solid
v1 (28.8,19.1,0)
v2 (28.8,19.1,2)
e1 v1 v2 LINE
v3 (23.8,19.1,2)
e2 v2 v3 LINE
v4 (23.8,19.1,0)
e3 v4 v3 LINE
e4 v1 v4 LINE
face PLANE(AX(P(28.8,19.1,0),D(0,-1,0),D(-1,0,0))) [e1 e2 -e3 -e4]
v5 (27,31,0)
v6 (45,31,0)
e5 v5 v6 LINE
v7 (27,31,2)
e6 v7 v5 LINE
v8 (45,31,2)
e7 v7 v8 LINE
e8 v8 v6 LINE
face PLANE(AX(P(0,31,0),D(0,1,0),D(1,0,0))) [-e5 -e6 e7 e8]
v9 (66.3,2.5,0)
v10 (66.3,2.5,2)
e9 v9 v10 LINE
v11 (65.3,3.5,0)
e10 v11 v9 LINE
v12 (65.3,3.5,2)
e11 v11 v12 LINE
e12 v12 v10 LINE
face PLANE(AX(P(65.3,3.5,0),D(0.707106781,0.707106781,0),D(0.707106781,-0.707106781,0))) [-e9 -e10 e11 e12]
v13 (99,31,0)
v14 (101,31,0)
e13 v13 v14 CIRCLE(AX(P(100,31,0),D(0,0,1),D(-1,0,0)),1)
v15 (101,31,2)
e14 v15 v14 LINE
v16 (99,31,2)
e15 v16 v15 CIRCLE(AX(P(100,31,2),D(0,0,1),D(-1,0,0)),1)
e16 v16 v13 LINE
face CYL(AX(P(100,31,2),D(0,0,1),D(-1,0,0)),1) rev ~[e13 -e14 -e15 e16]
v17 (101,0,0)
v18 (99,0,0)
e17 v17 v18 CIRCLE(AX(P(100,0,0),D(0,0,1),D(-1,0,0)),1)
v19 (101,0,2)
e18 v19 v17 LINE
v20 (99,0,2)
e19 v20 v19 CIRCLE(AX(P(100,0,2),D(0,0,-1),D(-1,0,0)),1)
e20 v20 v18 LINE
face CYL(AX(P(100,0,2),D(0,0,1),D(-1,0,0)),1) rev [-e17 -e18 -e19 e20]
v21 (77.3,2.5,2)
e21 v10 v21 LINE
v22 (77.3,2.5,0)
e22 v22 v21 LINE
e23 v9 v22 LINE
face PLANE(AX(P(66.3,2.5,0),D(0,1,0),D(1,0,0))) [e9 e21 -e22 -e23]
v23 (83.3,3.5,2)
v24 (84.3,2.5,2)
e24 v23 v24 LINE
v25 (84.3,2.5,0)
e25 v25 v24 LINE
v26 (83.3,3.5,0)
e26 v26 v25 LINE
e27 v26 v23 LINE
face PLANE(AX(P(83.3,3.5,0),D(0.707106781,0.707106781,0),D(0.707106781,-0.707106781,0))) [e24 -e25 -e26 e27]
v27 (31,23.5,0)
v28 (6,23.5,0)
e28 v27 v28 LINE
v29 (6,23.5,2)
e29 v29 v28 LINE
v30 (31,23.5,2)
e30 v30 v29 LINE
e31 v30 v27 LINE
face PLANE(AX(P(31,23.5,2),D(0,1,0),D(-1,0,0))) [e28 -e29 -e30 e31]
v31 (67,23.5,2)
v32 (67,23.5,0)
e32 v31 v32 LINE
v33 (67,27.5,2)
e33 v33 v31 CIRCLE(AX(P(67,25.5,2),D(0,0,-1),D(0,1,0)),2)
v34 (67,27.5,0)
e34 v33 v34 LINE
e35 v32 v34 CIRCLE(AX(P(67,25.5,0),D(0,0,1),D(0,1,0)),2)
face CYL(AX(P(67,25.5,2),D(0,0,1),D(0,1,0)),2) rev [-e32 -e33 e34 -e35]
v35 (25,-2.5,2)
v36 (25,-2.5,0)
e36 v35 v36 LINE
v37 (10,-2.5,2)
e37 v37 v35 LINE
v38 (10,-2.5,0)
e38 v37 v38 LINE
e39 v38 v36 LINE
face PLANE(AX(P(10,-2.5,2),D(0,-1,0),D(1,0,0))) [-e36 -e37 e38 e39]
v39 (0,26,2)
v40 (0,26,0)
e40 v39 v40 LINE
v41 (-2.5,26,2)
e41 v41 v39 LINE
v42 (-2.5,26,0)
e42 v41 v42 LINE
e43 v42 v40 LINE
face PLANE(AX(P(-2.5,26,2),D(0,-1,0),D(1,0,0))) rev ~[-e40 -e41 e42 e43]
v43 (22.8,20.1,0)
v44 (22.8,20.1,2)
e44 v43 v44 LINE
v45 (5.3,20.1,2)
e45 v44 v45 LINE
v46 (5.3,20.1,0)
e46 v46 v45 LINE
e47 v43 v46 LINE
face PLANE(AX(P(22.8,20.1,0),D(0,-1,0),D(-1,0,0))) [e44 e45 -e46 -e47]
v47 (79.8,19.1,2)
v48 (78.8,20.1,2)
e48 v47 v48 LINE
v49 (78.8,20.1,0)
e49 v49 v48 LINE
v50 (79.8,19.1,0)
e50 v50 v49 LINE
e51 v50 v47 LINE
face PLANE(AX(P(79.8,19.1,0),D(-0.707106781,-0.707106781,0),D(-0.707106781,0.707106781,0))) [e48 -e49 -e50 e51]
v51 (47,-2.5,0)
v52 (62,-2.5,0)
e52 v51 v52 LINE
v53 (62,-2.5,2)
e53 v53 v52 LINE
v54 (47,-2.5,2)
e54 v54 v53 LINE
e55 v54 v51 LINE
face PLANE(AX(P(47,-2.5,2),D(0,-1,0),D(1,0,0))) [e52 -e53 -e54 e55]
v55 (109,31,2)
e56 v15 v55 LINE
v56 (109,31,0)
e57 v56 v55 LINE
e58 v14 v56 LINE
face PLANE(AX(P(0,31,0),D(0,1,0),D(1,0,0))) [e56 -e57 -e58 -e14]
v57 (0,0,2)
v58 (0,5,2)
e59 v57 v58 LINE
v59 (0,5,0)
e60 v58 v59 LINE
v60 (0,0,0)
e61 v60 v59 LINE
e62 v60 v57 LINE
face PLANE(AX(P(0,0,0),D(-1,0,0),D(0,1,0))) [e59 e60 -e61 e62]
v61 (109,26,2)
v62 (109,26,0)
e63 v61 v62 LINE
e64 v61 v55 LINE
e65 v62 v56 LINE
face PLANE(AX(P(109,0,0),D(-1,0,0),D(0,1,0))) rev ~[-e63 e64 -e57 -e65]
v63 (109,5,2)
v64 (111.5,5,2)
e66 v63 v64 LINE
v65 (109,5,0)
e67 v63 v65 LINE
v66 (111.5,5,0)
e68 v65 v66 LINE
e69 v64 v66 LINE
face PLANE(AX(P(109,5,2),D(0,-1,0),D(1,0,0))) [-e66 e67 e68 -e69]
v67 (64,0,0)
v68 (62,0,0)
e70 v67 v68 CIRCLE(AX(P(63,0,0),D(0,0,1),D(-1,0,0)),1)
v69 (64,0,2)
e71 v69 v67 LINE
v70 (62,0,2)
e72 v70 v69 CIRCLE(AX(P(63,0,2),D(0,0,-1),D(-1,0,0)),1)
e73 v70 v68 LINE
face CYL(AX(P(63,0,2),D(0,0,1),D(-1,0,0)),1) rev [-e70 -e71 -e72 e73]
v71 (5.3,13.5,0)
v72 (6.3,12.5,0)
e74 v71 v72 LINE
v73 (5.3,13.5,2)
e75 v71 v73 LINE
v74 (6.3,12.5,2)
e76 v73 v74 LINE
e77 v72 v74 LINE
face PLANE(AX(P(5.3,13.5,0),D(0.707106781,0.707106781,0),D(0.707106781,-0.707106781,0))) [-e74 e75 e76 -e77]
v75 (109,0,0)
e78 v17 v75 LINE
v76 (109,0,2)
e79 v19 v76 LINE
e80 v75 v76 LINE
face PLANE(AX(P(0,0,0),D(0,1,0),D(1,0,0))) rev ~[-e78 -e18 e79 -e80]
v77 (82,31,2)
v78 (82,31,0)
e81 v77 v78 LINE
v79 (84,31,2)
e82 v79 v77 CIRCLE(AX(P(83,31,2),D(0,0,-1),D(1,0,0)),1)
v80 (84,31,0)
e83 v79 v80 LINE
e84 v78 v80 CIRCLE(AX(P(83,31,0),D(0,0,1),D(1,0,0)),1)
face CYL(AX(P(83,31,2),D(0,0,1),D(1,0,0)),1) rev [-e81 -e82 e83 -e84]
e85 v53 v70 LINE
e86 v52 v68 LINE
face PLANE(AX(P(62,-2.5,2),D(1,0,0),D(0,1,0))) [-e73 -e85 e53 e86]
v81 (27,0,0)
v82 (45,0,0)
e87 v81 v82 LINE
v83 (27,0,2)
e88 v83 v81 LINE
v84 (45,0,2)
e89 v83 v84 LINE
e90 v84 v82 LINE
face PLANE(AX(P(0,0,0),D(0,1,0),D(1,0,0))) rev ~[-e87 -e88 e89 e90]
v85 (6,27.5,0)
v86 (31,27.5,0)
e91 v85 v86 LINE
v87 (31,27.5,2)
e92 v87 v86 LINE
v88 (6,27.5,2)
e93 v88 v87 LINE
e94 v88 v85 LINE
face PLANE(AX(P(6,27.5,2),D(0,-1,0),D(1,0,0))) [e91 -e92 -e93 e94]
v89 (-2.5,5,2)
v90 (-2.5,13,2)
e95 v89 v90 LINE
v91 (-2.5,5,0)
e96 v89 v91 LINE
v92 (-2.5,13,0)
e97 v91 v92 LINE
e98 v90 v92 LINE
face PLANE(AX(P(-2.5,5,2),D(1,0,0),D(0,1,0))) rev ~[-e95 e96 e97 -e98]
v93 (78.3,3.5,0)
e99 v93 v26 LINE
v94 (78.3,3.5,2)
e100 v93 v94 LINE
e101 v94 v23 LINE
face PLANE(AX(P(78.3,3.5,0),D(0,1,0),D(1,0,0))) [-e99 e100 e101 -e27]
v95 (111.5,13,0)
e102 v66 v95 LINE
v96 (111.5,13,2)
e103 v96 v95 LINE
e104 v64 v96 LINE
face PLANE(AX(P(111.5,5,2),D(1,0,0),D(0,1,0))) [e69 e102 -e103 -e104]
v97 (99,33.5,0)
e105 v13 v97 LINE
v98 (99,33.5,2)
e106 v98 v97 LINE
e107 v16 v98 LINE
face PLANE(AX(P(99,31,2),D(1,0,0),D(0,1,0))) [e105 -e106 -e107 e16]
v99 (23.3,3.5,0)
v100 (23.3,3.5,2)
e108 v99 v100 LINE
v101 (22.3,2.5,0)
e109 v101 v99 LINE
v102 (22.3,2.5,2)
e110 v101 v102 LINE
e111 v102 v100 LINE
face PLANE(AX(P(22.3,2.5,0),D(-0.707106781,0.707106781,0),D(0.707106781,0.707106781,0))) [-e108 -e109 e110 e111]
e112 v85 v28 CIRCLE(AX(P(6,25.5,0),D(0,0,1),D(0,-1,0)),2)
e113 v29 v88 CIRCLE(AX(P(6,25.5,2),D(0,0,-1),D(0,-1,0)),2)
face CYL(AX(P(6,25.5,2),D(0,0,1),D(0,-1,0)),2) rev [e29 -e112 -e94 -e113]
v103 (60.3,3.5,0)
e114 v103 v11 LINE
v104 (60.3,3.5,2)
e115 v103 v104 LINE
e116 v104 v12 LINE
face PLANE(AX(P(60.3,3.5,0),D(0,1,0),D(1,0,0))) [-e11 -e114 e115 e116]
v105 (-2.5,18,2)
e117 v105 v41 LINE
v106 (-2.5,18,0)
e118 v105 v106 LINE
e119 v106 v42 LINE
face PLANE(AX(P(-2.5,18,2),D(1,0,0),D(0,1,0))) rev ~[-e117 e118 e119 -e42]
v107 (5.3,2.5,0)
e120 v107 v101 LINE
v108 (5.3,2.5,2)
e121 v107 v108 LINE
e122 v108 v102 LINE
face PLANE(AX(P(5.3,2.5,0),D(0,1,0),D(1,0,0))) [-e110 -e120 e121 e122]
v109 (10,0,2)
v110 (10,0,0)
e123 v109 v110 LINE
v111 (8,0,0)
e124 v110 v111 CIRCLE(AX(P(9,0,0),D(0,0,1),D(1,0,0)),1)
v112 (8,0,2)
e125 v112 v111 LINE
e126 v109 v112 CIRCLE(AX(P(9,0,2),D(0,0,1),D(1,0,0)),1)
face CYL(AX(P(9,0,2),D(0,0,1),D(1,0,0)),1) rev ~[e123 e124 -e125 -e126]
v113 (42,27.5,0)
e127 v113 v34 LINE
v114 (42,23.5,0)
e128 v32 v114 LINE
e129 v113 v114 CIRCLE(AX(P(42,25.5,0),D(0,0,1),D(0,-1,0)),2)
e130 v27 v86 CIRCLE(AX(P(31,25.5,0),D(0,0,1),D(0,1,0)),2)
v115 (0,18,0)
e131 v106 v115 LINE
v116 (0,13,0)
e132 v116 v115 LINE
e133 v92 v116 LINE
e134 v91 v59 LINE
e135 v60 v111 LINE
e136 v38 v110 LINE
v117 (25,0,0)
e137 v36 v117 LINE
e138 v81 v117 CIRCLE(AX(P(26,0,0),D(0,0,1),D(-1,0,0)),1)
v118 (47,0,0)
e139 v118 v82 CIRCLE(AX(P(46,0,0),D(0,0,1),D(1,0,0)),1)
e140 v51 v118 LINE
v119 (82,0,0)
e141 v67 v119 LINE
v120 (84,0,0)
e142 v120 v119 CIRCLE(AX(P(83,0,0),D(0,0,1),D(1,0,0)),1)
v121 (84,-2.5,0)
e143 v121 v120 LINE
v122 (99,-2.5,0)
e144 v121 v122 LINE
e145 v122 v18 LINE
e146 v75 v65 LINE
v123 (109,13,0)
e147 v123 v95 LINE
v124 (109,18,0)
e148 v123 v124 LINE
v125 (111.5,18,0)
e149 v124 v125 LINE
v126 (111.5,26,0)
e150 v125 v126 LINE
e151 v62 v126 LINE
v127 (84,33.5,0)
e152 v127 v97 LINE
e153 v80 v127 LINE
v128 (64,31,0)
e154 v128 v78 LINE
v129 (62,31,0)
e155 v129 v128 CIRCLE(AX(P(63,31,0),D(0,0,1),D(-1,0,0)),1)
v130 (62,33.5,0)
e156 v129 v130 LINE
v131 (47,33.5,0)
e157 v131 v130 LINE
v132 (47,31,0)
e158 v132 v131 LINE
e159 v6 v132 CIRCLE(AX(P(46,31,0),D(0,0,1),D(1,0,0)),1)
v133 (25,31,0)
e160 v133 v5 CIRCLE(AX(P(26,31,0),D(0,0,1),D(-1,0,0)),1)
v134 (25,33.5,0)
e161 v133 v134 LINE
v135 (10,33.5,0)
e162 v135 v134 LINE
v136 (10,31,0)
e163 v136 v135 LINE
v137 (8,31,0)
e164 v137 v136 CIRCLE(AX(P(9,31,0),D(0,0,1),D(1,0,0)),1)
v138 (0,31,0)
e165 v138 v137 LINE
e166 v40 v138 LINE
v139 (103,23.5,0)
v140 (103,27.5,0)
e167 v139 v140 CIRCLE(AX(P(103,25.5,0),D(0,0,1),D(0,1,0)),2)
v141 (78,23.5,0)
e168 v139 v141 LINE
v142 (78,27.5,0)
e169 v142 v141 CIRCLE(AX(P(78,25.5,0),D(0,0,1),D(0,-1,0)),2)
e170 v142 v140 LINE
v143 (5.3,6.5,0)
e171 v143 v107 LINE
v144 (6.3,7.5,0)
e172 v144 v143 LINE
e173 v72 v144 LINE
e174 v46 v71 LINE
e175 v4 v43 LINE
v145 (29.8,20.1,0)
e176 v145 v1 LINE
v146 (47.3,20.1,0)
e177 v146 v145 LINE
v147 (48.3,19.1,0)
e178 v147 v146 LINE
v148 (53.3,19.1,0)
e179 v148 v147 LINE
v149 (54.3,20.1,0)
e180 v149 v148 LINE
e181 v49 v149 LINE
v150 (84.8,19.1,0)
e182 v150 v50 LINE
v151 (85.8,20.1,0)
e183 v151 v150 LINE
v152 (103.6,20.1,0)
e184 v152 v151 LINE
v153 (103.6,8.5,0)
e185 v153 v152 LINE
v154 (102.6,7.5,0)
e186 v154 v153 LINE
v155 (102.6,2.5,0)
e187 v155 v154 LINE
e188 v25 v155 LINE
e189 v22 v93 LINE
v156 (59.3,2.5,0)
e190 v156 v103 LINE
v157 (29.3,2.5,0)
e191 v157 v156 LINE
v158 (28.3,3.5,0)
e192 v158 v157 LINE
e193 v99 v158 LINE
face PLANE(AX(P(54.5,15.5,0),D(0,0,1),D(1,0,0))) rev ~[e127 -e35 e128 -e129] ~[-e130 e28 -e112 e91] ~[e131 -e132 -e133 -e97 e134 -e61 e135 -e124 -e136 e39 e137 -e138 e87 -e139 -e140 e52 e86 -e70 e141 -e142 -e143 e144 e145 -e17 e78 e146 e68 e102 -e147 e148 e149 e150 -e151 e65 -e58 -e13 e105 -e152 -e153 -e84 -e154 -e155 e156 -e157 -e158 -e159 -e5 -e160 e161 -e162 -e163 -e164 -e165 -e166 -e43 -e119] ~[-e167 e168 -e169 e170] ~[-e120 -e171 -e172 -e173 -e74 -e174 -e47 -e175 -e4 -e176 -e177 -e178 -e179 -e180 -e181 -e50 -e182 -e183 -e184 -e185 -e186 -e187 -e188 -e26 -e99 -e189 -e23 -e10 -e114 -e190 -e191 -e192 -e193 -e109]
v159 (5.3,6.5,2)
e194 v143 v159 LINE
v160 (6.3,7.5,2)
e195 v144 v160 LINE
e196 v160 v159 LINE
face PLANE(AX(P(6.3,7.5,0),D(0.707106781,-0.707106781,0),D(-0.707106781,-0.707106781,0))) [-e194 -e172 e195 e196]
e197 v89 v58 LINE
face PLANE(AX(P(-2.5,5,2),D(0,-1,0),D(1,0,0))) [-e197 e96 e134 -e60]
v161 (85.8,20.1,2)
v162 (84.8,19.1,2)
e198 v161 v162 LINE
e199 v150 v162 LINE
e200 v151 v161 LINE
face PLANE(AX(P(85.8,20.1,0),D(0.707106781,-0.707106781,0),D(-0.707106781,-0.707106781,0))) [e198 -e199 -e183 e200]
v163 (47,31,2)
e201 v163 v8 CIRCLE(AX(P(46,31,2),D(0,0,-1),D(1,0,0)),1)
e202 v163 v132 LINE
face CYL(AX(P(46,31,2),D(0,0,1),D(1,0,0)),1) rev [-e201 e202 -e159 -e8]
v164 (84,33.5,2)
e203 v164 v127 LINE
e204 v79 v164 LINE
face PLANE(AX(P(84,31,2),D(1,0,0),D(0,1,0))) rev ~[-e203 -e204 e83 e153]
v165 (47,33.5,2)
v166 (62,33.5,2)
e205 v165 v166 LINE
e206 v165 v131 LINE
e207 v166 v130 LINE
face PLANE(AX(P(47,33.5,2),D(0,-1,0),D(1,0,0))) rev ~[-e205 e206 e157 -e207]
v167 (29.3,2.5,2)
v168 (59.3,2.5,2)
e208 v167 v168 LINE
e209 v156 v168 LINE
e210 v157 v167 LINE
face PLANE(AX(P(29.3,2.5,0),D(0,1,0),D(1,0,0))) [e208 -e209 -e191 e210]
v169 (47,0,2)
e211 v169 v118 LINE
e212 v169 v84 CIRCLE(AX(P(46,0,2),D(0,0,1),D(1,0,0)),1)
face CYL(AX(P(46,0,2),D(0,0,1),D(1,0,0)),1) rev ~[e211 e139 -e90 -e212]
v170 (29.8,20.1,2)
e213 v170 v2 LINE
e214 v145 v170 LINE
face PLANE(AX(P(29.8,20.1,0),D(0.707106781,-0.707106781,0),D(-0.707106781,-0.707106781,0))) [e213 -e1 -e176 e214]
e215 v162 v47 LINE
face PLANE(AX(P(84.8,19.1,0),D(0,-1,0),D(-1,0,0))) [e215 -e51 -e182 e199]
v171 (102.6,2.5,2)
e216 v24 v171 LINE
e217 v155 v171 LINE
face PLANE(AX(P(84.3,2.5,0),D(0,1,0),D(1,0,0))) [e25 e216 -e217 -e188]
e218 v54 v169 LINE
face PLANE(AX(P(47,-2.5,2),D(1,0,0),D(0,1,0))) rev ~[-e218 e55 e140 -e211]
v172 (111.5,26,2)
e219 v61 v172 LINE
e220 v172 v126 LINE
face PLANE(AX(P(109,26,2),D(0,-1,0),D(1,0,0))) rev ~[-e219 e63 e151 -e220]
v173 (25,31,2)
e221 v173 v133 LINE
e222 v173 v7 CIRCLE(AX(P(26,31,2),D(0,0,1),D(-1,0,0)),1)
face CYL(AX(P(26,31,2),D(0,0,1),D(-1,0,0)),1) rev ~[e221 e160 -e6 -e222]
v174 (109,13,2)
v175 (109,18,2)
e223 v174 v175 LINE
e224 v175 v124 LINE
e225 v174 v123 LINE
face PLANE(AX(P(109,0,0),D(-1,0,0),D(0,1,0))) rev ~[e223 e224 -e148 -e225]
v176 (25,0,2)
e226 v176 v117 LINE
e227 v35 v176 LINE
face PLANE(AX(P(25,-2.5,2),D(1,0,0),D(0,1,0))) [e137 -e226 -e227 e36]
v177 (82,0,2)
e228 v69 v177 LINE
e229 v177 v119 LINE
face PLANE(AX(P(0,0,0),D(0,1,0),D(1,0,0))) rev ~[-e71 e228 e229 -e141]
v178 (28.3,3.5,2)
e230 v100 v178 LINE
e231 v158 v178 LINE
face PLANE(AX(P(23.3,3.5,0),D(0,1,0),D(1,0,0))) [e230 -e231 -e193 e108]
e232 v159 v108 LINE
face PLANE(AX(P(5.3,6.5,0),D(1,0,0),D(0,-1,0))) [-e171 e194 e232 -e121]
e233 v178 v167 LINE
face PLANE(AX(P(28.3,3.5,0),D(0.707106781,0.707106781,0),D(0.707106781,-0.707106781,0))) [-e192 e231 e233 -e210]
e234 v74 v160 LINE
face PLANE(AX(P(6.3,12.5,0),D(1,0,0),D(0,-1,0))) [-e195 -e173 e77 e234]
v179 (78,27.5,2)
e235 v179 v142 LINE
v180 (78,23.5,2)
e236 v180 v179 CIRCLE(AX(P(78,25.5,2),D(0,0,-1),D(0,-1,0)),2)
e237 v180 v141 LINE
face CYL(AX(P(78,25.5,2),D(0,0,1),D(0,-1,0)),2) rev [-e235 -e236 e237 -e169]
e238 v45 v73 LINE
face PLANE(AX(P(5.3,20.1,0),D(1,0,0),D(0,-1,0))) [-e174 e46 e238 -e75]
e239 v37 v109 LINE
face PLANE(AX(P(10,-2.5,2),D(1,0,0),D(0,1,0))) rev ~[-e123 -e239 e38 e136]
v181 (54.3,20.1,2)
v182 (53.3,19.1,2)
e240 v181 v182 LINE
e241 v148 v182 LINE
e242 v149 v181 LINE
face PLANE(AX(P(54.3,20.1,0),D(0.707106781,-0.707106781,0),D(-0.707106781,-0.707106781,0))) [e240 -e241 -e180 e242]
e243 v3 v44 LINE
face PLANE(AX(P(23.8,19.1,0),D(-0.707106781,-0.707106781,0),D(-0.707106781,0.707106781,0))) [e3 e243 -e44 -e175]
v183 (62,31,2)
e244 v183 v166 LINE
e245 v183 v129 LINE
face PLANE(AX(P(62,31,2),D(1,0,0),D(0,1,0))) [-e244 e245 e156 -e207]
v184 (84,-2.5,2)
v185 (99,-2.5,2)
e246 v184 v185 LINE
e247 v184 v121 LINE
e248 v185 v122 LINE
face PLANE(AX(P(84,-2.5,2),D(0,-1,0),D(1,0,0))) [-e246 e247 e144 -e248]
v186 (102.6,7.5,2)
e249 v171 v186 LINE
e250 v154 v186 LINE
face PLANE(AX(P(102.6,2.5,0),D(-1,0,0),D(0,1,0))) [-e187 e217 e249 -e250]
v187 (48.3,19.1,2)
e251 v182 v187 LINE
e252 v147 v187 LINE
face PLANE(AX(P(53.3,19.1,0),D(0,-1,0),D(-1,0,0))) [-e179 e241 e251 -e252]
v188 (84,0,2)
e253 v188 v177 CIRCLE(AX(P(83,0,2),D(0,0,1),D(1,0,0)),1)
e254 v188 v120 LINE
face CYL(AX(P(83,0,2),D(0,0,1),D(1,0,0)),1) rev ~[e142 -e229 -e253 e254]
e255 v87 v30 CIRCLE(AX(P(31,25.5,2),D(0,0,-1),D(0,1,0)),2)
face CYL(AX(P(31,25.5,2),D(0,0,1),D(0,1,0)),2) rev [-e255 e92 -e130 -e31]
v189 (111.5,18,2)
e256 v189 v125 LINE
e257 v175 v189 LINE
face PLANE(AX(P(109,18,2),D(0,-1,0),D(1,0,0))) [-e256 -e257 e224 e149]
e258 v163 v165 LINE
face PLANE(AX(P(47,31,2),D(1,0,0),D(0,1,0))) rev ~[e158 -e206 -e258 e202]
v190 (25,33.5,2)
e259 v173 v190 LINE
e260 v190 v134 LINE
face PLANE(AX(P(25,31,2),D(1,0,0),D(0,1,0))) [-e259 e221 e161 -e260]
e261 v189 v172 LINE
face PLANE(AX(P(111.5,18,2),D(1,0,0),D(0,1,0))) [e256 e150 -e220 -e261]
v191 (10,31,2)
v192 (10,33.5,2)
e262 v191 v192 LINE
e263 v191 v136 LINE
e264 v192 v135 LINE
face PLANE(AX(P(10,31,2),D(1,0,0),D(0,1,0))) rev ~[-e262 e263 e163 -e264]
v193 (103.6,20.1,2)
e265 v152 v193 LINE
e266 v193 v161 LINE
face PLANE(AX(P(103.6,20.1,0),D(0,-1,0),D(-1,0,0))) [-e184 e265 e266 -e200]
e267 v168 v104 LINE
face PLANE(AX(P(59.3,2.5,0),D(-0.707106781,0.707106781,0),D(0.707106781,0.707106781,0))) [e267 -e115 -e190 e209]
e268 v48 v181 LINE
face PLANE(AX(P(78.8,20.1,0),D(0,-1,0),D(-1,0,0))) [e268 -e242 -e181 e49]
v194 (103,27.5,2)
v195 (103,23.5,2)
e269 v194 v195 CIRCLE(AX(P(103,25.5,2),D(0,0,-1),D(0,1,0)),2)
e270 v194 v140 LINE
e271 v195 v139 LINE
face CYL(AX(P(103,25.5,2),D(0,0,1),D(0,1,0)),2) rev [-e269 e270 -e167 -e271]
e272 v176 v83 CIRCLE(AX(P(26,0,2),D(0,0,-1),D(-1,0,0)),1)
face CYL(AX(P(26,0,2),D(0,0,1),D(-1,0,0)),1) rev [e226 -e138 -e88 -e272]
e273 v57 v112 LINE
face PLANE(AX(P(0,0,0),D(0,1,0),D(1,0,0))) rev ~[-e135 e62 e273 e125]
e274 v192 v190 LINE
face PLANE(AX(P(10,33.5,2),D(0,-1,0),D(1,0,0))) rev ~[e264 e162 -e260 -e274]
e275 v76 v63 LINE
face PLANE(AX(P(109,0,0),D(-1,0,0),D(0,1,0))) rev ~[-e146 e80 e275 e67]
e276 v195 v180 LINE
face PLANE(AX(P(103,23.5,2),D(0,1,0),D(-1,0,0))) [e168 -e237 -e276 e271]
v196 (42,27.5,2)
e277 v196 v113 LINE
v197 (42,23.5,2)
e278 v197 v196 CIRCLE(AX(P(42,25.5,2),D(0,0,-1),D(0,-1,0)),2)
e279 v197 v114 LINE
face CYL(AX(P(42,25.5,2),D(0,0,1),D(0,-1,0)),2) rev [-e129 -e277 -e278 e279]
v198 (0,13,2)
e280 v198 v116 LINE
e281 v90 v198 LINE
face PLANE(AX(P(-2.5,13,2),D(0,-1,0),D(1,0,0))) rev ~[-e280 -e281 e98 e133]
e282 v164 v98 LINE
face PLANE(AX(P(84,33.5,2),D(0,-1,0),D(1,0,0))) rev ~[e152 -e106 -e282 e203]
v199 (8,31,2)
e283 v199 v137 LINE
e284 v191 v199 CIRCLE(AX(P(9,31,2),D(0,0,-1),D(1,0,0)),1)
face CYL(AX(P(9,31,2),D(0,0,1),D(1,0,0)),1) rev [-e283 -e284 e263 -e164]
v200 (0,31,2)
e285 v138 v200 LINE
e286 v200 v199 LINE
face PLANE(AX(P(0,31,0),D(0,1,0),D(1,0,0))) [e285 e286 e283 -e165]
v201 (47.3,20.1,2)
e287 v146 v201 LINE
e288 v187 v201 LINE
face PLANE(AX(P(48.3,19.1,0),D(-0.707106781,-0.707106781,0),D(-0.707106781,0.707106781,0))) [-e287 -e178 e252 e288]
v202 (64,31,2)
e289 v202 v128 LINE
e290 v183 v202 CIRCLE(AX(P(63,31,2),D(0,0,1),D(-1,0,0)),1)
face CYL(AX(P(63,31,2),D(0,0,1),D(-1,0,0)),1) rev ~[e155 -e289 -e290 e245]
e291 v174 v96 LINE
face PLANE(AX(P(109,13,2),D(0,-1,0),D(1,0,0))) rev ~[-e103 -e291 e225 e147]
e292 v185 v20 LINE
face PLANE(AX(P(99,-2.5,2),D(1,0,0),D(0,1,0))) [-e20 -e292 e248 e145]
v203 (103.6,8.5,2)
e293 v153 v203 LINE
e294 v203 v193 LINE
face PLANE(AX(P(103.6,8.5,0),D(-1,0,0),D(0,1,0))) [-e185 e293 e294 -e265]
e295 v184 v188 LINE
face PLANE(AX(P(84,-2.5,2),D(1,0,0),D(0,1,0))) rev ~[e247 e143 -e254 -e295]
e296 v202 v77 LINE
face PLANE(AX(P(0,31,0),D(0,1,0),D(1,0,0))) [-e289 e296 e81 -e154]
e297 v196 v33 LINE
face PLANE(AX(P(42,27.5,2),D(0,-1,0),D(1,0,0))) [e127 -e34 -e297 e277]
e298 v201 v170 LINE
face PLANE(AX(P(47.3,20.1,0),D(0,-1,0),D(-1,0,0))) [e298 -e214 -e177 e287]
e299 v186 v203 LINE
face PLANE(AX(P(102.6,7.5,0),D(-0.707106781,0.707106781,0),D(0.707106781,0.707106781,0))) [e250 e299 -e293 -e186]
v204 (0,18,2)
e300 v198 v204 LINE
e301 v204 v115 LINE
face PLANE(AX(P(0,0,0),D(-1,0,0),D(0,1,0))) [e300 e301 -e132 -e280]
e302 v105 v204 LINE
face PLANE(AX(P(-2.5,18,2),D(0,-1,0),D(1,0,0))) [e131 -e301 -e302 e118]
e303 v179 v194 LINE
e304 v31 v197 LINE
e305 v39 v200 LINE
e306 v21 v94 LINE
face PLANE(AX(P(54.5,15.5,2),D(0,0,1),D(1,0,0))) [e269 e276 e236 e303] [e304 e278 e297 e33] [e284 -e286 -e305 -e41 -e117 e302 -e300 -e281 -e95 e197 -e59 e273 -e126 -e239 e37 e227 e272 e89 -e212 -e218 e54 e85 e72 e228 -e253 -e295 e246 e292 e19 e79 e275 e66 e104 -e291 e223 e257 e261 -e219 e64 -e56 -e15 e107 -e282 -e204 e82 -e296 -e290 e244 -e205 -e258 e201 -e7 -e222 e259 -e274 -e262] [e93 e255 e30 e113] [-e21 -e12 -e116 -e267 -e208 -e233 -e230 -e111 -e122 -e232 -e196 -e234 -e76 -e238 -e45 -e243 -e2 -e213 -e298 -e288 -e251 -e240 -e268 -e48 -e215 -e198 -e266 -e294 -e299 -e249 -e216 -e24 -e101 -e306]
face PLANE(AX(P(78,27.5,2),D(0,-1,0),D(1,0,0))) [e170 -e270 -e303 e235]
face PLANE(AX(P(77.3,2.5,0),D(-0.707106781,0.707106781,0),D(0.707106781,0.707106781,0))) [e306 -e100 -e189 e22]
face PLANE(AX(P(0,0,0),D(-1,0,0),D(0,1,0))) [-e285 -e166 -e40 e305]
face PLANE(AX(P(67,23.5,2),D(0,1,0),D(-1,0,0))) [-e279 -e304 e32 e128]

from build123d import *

# Parameters (mm, degrees)
SKETCH_1_W          = 109
SKETCH_1_H          = 31
EXTRUDE_1_DEPTH     = 2
SKETCH_2_W          = 2.5
SKETCH_2_H          = 8
EXTRUDE_2_DEPTH     = 2
SKETCH_3_W          = 15
SKETCH_3_H          = 2.5
EXTRUDE_3_DEPTH     = 2
CUT_EXTRUDE_1_DEPTH = 117.44097217
CUT_EXTRUDE_2_DEPTH = 117.44097217


with BuildPart() as part:
    # 草图1 → 凸台-拉伸1 (new body)
    with BuildSketch(Plane.XY):
        with Locations((54.5, 15.5)):
            Rectangle(SKETCH_1_W, SKETCH_1_H)
        Polygon((23.3, 3.5), (28.3, 3.5), (29.3, 2.5), (59.3, 2.5), (60.3, 3.5), (65.3, 3.5), (66.3, 2.5), (77.3, 2.5), (78.3, 3.5), (83.3, 3.5), (84.3, 2.5), (102.6, 2.5), (102.6, 7.5), (103.6, 8.5), (103.6, 20.1), (85.8, 20.1), (84.8, 19.1), (79.8, 19.1), (78.8, 20.1), (54.3, 20.1), (53.3, 19.1), (48.3, 19.1), (47.3, 20.1), (29.8, 20.1), (28.8, 19.1), (23.8, 19.1), (22.8, 20.1), (5.3, 20.1), (5.3, 13.5), (6.3, 12.5), (6.3, 7.5), (5.3, 6.5), (5.3, 2.5), (22.3, 2.5), align=None, mode=Mode.SUBTRACT)
    extrude(amount=EXTRUDE_1_DEPTH)

    # 草图2 → 凸台-拉伸2 (add)
    with BuildSketch(Plane.XY.offset(2)):
        with Locations((-1.25, 22)):
            Rectangle(SKETCH_2_W, SKETCH_2_H)
        with Locations((-1.25, 9)):
            Rectangle(SKETCH_2_W, SKETCH_2_H)
        with Locations((110.25, 9)):
            Rectangle(SKETCH_2_W, SKETCH_2_H)
        with Locations((110.25, 22)):
            Rectangle(SKETCH_2_W, SKETCH_2_H)
    extrude(amount=-EXTRUDE_2_DEPTH)

    # 草图3 → 凸台-拉伸3 (add)
    with BuildSketch(Plane.XY.offset(2)):
        with Locations((17.5, 32.25)):
            Rectangle(SKETCH_3_W, SKETCH_3_H)
        with Locations((54.5, 32.25)):
            Rectangle(SKETCH_3_W, SKETCH_3_H)
        with Locations((91.5, 32.25)):
            Rectangle(SKETCH_3_W, SKETCH_3_H)
        with Locations((91.5, -1.25)):
            Rectangle(SKETCH_3_W, SKETCH_3_H)
        with Locations((54.5, -1.25)):
            Rectangle(SKETCH_3_W, SKETCH_3_H)
        with Locations((17.5, -1.25)):
            Rectangle(SKETCH_3_W, SKETCH_3_H)
    extrude(amount=-EXTRUDE_3_DEPTH)

    # 草图4 → 切除-拉伸1 (cut, through all)
    with BuildSketch(Plane.XY.offset(2)):
        with BuildLine():
            Line((8, 31), (10, 31))
            ThreePointArc((10, 31), (9, 30), (8, 31))
        make_face()
        with BuildLine():
            Line((27, 31), (25, 31))
            ThreePointArc((25, 31), (26, 30), (27, 31))
        make_face()
        with BuildLine():
            Line((45, 31), (47, 31))
            ThreePointArc((47, 31), (46, 30), (45, 31))
        make_face()
        with BuildLine():
            Line((64, 31), (62, 31))
            ThreePointArc((62, 31), (63, 30), (64, 31))
        make_face()
        with BuildLine():
            Line((82, 31), (84, 31))
            ThreePointArc((84, 31), (83, 30), (82, 31))
        make_face()
        with BuildLine():
            Line((101, 31), (99, 31))
            ThreePointArc((99, 31), (100, 30), (101, 31))
        make_face()
        with BuildLine():
            Line((101, 0), (99, 0))
            ThreePointArc((99, 0), (100, 1), (101, 0))
        make_face()
        with BuildLine():
            Line((82, 0), (84, 0))
            ThreePointArc((84, 0), (83, 1), (82, 0))
        make_face()
        with BuildLine():
            Line((64, 0), (62, 0))
            ThreePointArc((62, 0), (63, 1), (64, 0))
        make_face()
        with BuildLine():
            Line((45, 0), (47, 0))
            ThreePointArc((47, 0), (46, 1), (45, 0))
        make_face()
        with BuildLine():
            Line((27, 0), (25, 0))
            ThreePointArc((25, 0), (26, 1), (27, 0))
        make_face()
        with BuildLine():
            Line((8, 0), (10, 0))
            ThreePointArc((10, 0), (9, 1), (8, 0))
        make_face()
    extrude(amount=-CUT_EXTRUDE_1_DEPTH, mode=Mode.SUBTRACT)

    # 草图5 → 切除-拉伸2 (cut, through all)
    with BuildSketch(Plane.XY.offset(2)):
        with BuildLine():
            Line((6, 27.5), (31, 27.5))
            ThreePointArc((31, 27.5), (33, 25.5), (31, 23.5))
            Line((31, 23.5), (6, 23.5))
            ThreePointArc((6, 23.5), (4, 25.5), (6, 27.5))
        make_face()
        with BuildLine():
            Line((42, 27.5), (67, 27.5))
            ThreePointArc((67, 27.5), (69, 25.5), (67, 23.5))
            Line((67, 23.5), (42, 23.5))
            ThreePointArc((42, 23.5), (40, 25.5), (42, 27.5))
        make_face()
        with BuildLine():
            Line((78, 27.5), (103, 27.5))
            ThreePointArc((103, 27.5), (105, 25.5), (103, 23.5))
            Line((103, 23.5), (78, 23.5))
            ThreePointArc((78, 23.5), (76, 25.5), (78, 27.5))
        make_face()
    extrude(amount=-CUT_EXTRUDE_2_DEPTH, mode=Mode.SUBTRACT)


solid = part.part
